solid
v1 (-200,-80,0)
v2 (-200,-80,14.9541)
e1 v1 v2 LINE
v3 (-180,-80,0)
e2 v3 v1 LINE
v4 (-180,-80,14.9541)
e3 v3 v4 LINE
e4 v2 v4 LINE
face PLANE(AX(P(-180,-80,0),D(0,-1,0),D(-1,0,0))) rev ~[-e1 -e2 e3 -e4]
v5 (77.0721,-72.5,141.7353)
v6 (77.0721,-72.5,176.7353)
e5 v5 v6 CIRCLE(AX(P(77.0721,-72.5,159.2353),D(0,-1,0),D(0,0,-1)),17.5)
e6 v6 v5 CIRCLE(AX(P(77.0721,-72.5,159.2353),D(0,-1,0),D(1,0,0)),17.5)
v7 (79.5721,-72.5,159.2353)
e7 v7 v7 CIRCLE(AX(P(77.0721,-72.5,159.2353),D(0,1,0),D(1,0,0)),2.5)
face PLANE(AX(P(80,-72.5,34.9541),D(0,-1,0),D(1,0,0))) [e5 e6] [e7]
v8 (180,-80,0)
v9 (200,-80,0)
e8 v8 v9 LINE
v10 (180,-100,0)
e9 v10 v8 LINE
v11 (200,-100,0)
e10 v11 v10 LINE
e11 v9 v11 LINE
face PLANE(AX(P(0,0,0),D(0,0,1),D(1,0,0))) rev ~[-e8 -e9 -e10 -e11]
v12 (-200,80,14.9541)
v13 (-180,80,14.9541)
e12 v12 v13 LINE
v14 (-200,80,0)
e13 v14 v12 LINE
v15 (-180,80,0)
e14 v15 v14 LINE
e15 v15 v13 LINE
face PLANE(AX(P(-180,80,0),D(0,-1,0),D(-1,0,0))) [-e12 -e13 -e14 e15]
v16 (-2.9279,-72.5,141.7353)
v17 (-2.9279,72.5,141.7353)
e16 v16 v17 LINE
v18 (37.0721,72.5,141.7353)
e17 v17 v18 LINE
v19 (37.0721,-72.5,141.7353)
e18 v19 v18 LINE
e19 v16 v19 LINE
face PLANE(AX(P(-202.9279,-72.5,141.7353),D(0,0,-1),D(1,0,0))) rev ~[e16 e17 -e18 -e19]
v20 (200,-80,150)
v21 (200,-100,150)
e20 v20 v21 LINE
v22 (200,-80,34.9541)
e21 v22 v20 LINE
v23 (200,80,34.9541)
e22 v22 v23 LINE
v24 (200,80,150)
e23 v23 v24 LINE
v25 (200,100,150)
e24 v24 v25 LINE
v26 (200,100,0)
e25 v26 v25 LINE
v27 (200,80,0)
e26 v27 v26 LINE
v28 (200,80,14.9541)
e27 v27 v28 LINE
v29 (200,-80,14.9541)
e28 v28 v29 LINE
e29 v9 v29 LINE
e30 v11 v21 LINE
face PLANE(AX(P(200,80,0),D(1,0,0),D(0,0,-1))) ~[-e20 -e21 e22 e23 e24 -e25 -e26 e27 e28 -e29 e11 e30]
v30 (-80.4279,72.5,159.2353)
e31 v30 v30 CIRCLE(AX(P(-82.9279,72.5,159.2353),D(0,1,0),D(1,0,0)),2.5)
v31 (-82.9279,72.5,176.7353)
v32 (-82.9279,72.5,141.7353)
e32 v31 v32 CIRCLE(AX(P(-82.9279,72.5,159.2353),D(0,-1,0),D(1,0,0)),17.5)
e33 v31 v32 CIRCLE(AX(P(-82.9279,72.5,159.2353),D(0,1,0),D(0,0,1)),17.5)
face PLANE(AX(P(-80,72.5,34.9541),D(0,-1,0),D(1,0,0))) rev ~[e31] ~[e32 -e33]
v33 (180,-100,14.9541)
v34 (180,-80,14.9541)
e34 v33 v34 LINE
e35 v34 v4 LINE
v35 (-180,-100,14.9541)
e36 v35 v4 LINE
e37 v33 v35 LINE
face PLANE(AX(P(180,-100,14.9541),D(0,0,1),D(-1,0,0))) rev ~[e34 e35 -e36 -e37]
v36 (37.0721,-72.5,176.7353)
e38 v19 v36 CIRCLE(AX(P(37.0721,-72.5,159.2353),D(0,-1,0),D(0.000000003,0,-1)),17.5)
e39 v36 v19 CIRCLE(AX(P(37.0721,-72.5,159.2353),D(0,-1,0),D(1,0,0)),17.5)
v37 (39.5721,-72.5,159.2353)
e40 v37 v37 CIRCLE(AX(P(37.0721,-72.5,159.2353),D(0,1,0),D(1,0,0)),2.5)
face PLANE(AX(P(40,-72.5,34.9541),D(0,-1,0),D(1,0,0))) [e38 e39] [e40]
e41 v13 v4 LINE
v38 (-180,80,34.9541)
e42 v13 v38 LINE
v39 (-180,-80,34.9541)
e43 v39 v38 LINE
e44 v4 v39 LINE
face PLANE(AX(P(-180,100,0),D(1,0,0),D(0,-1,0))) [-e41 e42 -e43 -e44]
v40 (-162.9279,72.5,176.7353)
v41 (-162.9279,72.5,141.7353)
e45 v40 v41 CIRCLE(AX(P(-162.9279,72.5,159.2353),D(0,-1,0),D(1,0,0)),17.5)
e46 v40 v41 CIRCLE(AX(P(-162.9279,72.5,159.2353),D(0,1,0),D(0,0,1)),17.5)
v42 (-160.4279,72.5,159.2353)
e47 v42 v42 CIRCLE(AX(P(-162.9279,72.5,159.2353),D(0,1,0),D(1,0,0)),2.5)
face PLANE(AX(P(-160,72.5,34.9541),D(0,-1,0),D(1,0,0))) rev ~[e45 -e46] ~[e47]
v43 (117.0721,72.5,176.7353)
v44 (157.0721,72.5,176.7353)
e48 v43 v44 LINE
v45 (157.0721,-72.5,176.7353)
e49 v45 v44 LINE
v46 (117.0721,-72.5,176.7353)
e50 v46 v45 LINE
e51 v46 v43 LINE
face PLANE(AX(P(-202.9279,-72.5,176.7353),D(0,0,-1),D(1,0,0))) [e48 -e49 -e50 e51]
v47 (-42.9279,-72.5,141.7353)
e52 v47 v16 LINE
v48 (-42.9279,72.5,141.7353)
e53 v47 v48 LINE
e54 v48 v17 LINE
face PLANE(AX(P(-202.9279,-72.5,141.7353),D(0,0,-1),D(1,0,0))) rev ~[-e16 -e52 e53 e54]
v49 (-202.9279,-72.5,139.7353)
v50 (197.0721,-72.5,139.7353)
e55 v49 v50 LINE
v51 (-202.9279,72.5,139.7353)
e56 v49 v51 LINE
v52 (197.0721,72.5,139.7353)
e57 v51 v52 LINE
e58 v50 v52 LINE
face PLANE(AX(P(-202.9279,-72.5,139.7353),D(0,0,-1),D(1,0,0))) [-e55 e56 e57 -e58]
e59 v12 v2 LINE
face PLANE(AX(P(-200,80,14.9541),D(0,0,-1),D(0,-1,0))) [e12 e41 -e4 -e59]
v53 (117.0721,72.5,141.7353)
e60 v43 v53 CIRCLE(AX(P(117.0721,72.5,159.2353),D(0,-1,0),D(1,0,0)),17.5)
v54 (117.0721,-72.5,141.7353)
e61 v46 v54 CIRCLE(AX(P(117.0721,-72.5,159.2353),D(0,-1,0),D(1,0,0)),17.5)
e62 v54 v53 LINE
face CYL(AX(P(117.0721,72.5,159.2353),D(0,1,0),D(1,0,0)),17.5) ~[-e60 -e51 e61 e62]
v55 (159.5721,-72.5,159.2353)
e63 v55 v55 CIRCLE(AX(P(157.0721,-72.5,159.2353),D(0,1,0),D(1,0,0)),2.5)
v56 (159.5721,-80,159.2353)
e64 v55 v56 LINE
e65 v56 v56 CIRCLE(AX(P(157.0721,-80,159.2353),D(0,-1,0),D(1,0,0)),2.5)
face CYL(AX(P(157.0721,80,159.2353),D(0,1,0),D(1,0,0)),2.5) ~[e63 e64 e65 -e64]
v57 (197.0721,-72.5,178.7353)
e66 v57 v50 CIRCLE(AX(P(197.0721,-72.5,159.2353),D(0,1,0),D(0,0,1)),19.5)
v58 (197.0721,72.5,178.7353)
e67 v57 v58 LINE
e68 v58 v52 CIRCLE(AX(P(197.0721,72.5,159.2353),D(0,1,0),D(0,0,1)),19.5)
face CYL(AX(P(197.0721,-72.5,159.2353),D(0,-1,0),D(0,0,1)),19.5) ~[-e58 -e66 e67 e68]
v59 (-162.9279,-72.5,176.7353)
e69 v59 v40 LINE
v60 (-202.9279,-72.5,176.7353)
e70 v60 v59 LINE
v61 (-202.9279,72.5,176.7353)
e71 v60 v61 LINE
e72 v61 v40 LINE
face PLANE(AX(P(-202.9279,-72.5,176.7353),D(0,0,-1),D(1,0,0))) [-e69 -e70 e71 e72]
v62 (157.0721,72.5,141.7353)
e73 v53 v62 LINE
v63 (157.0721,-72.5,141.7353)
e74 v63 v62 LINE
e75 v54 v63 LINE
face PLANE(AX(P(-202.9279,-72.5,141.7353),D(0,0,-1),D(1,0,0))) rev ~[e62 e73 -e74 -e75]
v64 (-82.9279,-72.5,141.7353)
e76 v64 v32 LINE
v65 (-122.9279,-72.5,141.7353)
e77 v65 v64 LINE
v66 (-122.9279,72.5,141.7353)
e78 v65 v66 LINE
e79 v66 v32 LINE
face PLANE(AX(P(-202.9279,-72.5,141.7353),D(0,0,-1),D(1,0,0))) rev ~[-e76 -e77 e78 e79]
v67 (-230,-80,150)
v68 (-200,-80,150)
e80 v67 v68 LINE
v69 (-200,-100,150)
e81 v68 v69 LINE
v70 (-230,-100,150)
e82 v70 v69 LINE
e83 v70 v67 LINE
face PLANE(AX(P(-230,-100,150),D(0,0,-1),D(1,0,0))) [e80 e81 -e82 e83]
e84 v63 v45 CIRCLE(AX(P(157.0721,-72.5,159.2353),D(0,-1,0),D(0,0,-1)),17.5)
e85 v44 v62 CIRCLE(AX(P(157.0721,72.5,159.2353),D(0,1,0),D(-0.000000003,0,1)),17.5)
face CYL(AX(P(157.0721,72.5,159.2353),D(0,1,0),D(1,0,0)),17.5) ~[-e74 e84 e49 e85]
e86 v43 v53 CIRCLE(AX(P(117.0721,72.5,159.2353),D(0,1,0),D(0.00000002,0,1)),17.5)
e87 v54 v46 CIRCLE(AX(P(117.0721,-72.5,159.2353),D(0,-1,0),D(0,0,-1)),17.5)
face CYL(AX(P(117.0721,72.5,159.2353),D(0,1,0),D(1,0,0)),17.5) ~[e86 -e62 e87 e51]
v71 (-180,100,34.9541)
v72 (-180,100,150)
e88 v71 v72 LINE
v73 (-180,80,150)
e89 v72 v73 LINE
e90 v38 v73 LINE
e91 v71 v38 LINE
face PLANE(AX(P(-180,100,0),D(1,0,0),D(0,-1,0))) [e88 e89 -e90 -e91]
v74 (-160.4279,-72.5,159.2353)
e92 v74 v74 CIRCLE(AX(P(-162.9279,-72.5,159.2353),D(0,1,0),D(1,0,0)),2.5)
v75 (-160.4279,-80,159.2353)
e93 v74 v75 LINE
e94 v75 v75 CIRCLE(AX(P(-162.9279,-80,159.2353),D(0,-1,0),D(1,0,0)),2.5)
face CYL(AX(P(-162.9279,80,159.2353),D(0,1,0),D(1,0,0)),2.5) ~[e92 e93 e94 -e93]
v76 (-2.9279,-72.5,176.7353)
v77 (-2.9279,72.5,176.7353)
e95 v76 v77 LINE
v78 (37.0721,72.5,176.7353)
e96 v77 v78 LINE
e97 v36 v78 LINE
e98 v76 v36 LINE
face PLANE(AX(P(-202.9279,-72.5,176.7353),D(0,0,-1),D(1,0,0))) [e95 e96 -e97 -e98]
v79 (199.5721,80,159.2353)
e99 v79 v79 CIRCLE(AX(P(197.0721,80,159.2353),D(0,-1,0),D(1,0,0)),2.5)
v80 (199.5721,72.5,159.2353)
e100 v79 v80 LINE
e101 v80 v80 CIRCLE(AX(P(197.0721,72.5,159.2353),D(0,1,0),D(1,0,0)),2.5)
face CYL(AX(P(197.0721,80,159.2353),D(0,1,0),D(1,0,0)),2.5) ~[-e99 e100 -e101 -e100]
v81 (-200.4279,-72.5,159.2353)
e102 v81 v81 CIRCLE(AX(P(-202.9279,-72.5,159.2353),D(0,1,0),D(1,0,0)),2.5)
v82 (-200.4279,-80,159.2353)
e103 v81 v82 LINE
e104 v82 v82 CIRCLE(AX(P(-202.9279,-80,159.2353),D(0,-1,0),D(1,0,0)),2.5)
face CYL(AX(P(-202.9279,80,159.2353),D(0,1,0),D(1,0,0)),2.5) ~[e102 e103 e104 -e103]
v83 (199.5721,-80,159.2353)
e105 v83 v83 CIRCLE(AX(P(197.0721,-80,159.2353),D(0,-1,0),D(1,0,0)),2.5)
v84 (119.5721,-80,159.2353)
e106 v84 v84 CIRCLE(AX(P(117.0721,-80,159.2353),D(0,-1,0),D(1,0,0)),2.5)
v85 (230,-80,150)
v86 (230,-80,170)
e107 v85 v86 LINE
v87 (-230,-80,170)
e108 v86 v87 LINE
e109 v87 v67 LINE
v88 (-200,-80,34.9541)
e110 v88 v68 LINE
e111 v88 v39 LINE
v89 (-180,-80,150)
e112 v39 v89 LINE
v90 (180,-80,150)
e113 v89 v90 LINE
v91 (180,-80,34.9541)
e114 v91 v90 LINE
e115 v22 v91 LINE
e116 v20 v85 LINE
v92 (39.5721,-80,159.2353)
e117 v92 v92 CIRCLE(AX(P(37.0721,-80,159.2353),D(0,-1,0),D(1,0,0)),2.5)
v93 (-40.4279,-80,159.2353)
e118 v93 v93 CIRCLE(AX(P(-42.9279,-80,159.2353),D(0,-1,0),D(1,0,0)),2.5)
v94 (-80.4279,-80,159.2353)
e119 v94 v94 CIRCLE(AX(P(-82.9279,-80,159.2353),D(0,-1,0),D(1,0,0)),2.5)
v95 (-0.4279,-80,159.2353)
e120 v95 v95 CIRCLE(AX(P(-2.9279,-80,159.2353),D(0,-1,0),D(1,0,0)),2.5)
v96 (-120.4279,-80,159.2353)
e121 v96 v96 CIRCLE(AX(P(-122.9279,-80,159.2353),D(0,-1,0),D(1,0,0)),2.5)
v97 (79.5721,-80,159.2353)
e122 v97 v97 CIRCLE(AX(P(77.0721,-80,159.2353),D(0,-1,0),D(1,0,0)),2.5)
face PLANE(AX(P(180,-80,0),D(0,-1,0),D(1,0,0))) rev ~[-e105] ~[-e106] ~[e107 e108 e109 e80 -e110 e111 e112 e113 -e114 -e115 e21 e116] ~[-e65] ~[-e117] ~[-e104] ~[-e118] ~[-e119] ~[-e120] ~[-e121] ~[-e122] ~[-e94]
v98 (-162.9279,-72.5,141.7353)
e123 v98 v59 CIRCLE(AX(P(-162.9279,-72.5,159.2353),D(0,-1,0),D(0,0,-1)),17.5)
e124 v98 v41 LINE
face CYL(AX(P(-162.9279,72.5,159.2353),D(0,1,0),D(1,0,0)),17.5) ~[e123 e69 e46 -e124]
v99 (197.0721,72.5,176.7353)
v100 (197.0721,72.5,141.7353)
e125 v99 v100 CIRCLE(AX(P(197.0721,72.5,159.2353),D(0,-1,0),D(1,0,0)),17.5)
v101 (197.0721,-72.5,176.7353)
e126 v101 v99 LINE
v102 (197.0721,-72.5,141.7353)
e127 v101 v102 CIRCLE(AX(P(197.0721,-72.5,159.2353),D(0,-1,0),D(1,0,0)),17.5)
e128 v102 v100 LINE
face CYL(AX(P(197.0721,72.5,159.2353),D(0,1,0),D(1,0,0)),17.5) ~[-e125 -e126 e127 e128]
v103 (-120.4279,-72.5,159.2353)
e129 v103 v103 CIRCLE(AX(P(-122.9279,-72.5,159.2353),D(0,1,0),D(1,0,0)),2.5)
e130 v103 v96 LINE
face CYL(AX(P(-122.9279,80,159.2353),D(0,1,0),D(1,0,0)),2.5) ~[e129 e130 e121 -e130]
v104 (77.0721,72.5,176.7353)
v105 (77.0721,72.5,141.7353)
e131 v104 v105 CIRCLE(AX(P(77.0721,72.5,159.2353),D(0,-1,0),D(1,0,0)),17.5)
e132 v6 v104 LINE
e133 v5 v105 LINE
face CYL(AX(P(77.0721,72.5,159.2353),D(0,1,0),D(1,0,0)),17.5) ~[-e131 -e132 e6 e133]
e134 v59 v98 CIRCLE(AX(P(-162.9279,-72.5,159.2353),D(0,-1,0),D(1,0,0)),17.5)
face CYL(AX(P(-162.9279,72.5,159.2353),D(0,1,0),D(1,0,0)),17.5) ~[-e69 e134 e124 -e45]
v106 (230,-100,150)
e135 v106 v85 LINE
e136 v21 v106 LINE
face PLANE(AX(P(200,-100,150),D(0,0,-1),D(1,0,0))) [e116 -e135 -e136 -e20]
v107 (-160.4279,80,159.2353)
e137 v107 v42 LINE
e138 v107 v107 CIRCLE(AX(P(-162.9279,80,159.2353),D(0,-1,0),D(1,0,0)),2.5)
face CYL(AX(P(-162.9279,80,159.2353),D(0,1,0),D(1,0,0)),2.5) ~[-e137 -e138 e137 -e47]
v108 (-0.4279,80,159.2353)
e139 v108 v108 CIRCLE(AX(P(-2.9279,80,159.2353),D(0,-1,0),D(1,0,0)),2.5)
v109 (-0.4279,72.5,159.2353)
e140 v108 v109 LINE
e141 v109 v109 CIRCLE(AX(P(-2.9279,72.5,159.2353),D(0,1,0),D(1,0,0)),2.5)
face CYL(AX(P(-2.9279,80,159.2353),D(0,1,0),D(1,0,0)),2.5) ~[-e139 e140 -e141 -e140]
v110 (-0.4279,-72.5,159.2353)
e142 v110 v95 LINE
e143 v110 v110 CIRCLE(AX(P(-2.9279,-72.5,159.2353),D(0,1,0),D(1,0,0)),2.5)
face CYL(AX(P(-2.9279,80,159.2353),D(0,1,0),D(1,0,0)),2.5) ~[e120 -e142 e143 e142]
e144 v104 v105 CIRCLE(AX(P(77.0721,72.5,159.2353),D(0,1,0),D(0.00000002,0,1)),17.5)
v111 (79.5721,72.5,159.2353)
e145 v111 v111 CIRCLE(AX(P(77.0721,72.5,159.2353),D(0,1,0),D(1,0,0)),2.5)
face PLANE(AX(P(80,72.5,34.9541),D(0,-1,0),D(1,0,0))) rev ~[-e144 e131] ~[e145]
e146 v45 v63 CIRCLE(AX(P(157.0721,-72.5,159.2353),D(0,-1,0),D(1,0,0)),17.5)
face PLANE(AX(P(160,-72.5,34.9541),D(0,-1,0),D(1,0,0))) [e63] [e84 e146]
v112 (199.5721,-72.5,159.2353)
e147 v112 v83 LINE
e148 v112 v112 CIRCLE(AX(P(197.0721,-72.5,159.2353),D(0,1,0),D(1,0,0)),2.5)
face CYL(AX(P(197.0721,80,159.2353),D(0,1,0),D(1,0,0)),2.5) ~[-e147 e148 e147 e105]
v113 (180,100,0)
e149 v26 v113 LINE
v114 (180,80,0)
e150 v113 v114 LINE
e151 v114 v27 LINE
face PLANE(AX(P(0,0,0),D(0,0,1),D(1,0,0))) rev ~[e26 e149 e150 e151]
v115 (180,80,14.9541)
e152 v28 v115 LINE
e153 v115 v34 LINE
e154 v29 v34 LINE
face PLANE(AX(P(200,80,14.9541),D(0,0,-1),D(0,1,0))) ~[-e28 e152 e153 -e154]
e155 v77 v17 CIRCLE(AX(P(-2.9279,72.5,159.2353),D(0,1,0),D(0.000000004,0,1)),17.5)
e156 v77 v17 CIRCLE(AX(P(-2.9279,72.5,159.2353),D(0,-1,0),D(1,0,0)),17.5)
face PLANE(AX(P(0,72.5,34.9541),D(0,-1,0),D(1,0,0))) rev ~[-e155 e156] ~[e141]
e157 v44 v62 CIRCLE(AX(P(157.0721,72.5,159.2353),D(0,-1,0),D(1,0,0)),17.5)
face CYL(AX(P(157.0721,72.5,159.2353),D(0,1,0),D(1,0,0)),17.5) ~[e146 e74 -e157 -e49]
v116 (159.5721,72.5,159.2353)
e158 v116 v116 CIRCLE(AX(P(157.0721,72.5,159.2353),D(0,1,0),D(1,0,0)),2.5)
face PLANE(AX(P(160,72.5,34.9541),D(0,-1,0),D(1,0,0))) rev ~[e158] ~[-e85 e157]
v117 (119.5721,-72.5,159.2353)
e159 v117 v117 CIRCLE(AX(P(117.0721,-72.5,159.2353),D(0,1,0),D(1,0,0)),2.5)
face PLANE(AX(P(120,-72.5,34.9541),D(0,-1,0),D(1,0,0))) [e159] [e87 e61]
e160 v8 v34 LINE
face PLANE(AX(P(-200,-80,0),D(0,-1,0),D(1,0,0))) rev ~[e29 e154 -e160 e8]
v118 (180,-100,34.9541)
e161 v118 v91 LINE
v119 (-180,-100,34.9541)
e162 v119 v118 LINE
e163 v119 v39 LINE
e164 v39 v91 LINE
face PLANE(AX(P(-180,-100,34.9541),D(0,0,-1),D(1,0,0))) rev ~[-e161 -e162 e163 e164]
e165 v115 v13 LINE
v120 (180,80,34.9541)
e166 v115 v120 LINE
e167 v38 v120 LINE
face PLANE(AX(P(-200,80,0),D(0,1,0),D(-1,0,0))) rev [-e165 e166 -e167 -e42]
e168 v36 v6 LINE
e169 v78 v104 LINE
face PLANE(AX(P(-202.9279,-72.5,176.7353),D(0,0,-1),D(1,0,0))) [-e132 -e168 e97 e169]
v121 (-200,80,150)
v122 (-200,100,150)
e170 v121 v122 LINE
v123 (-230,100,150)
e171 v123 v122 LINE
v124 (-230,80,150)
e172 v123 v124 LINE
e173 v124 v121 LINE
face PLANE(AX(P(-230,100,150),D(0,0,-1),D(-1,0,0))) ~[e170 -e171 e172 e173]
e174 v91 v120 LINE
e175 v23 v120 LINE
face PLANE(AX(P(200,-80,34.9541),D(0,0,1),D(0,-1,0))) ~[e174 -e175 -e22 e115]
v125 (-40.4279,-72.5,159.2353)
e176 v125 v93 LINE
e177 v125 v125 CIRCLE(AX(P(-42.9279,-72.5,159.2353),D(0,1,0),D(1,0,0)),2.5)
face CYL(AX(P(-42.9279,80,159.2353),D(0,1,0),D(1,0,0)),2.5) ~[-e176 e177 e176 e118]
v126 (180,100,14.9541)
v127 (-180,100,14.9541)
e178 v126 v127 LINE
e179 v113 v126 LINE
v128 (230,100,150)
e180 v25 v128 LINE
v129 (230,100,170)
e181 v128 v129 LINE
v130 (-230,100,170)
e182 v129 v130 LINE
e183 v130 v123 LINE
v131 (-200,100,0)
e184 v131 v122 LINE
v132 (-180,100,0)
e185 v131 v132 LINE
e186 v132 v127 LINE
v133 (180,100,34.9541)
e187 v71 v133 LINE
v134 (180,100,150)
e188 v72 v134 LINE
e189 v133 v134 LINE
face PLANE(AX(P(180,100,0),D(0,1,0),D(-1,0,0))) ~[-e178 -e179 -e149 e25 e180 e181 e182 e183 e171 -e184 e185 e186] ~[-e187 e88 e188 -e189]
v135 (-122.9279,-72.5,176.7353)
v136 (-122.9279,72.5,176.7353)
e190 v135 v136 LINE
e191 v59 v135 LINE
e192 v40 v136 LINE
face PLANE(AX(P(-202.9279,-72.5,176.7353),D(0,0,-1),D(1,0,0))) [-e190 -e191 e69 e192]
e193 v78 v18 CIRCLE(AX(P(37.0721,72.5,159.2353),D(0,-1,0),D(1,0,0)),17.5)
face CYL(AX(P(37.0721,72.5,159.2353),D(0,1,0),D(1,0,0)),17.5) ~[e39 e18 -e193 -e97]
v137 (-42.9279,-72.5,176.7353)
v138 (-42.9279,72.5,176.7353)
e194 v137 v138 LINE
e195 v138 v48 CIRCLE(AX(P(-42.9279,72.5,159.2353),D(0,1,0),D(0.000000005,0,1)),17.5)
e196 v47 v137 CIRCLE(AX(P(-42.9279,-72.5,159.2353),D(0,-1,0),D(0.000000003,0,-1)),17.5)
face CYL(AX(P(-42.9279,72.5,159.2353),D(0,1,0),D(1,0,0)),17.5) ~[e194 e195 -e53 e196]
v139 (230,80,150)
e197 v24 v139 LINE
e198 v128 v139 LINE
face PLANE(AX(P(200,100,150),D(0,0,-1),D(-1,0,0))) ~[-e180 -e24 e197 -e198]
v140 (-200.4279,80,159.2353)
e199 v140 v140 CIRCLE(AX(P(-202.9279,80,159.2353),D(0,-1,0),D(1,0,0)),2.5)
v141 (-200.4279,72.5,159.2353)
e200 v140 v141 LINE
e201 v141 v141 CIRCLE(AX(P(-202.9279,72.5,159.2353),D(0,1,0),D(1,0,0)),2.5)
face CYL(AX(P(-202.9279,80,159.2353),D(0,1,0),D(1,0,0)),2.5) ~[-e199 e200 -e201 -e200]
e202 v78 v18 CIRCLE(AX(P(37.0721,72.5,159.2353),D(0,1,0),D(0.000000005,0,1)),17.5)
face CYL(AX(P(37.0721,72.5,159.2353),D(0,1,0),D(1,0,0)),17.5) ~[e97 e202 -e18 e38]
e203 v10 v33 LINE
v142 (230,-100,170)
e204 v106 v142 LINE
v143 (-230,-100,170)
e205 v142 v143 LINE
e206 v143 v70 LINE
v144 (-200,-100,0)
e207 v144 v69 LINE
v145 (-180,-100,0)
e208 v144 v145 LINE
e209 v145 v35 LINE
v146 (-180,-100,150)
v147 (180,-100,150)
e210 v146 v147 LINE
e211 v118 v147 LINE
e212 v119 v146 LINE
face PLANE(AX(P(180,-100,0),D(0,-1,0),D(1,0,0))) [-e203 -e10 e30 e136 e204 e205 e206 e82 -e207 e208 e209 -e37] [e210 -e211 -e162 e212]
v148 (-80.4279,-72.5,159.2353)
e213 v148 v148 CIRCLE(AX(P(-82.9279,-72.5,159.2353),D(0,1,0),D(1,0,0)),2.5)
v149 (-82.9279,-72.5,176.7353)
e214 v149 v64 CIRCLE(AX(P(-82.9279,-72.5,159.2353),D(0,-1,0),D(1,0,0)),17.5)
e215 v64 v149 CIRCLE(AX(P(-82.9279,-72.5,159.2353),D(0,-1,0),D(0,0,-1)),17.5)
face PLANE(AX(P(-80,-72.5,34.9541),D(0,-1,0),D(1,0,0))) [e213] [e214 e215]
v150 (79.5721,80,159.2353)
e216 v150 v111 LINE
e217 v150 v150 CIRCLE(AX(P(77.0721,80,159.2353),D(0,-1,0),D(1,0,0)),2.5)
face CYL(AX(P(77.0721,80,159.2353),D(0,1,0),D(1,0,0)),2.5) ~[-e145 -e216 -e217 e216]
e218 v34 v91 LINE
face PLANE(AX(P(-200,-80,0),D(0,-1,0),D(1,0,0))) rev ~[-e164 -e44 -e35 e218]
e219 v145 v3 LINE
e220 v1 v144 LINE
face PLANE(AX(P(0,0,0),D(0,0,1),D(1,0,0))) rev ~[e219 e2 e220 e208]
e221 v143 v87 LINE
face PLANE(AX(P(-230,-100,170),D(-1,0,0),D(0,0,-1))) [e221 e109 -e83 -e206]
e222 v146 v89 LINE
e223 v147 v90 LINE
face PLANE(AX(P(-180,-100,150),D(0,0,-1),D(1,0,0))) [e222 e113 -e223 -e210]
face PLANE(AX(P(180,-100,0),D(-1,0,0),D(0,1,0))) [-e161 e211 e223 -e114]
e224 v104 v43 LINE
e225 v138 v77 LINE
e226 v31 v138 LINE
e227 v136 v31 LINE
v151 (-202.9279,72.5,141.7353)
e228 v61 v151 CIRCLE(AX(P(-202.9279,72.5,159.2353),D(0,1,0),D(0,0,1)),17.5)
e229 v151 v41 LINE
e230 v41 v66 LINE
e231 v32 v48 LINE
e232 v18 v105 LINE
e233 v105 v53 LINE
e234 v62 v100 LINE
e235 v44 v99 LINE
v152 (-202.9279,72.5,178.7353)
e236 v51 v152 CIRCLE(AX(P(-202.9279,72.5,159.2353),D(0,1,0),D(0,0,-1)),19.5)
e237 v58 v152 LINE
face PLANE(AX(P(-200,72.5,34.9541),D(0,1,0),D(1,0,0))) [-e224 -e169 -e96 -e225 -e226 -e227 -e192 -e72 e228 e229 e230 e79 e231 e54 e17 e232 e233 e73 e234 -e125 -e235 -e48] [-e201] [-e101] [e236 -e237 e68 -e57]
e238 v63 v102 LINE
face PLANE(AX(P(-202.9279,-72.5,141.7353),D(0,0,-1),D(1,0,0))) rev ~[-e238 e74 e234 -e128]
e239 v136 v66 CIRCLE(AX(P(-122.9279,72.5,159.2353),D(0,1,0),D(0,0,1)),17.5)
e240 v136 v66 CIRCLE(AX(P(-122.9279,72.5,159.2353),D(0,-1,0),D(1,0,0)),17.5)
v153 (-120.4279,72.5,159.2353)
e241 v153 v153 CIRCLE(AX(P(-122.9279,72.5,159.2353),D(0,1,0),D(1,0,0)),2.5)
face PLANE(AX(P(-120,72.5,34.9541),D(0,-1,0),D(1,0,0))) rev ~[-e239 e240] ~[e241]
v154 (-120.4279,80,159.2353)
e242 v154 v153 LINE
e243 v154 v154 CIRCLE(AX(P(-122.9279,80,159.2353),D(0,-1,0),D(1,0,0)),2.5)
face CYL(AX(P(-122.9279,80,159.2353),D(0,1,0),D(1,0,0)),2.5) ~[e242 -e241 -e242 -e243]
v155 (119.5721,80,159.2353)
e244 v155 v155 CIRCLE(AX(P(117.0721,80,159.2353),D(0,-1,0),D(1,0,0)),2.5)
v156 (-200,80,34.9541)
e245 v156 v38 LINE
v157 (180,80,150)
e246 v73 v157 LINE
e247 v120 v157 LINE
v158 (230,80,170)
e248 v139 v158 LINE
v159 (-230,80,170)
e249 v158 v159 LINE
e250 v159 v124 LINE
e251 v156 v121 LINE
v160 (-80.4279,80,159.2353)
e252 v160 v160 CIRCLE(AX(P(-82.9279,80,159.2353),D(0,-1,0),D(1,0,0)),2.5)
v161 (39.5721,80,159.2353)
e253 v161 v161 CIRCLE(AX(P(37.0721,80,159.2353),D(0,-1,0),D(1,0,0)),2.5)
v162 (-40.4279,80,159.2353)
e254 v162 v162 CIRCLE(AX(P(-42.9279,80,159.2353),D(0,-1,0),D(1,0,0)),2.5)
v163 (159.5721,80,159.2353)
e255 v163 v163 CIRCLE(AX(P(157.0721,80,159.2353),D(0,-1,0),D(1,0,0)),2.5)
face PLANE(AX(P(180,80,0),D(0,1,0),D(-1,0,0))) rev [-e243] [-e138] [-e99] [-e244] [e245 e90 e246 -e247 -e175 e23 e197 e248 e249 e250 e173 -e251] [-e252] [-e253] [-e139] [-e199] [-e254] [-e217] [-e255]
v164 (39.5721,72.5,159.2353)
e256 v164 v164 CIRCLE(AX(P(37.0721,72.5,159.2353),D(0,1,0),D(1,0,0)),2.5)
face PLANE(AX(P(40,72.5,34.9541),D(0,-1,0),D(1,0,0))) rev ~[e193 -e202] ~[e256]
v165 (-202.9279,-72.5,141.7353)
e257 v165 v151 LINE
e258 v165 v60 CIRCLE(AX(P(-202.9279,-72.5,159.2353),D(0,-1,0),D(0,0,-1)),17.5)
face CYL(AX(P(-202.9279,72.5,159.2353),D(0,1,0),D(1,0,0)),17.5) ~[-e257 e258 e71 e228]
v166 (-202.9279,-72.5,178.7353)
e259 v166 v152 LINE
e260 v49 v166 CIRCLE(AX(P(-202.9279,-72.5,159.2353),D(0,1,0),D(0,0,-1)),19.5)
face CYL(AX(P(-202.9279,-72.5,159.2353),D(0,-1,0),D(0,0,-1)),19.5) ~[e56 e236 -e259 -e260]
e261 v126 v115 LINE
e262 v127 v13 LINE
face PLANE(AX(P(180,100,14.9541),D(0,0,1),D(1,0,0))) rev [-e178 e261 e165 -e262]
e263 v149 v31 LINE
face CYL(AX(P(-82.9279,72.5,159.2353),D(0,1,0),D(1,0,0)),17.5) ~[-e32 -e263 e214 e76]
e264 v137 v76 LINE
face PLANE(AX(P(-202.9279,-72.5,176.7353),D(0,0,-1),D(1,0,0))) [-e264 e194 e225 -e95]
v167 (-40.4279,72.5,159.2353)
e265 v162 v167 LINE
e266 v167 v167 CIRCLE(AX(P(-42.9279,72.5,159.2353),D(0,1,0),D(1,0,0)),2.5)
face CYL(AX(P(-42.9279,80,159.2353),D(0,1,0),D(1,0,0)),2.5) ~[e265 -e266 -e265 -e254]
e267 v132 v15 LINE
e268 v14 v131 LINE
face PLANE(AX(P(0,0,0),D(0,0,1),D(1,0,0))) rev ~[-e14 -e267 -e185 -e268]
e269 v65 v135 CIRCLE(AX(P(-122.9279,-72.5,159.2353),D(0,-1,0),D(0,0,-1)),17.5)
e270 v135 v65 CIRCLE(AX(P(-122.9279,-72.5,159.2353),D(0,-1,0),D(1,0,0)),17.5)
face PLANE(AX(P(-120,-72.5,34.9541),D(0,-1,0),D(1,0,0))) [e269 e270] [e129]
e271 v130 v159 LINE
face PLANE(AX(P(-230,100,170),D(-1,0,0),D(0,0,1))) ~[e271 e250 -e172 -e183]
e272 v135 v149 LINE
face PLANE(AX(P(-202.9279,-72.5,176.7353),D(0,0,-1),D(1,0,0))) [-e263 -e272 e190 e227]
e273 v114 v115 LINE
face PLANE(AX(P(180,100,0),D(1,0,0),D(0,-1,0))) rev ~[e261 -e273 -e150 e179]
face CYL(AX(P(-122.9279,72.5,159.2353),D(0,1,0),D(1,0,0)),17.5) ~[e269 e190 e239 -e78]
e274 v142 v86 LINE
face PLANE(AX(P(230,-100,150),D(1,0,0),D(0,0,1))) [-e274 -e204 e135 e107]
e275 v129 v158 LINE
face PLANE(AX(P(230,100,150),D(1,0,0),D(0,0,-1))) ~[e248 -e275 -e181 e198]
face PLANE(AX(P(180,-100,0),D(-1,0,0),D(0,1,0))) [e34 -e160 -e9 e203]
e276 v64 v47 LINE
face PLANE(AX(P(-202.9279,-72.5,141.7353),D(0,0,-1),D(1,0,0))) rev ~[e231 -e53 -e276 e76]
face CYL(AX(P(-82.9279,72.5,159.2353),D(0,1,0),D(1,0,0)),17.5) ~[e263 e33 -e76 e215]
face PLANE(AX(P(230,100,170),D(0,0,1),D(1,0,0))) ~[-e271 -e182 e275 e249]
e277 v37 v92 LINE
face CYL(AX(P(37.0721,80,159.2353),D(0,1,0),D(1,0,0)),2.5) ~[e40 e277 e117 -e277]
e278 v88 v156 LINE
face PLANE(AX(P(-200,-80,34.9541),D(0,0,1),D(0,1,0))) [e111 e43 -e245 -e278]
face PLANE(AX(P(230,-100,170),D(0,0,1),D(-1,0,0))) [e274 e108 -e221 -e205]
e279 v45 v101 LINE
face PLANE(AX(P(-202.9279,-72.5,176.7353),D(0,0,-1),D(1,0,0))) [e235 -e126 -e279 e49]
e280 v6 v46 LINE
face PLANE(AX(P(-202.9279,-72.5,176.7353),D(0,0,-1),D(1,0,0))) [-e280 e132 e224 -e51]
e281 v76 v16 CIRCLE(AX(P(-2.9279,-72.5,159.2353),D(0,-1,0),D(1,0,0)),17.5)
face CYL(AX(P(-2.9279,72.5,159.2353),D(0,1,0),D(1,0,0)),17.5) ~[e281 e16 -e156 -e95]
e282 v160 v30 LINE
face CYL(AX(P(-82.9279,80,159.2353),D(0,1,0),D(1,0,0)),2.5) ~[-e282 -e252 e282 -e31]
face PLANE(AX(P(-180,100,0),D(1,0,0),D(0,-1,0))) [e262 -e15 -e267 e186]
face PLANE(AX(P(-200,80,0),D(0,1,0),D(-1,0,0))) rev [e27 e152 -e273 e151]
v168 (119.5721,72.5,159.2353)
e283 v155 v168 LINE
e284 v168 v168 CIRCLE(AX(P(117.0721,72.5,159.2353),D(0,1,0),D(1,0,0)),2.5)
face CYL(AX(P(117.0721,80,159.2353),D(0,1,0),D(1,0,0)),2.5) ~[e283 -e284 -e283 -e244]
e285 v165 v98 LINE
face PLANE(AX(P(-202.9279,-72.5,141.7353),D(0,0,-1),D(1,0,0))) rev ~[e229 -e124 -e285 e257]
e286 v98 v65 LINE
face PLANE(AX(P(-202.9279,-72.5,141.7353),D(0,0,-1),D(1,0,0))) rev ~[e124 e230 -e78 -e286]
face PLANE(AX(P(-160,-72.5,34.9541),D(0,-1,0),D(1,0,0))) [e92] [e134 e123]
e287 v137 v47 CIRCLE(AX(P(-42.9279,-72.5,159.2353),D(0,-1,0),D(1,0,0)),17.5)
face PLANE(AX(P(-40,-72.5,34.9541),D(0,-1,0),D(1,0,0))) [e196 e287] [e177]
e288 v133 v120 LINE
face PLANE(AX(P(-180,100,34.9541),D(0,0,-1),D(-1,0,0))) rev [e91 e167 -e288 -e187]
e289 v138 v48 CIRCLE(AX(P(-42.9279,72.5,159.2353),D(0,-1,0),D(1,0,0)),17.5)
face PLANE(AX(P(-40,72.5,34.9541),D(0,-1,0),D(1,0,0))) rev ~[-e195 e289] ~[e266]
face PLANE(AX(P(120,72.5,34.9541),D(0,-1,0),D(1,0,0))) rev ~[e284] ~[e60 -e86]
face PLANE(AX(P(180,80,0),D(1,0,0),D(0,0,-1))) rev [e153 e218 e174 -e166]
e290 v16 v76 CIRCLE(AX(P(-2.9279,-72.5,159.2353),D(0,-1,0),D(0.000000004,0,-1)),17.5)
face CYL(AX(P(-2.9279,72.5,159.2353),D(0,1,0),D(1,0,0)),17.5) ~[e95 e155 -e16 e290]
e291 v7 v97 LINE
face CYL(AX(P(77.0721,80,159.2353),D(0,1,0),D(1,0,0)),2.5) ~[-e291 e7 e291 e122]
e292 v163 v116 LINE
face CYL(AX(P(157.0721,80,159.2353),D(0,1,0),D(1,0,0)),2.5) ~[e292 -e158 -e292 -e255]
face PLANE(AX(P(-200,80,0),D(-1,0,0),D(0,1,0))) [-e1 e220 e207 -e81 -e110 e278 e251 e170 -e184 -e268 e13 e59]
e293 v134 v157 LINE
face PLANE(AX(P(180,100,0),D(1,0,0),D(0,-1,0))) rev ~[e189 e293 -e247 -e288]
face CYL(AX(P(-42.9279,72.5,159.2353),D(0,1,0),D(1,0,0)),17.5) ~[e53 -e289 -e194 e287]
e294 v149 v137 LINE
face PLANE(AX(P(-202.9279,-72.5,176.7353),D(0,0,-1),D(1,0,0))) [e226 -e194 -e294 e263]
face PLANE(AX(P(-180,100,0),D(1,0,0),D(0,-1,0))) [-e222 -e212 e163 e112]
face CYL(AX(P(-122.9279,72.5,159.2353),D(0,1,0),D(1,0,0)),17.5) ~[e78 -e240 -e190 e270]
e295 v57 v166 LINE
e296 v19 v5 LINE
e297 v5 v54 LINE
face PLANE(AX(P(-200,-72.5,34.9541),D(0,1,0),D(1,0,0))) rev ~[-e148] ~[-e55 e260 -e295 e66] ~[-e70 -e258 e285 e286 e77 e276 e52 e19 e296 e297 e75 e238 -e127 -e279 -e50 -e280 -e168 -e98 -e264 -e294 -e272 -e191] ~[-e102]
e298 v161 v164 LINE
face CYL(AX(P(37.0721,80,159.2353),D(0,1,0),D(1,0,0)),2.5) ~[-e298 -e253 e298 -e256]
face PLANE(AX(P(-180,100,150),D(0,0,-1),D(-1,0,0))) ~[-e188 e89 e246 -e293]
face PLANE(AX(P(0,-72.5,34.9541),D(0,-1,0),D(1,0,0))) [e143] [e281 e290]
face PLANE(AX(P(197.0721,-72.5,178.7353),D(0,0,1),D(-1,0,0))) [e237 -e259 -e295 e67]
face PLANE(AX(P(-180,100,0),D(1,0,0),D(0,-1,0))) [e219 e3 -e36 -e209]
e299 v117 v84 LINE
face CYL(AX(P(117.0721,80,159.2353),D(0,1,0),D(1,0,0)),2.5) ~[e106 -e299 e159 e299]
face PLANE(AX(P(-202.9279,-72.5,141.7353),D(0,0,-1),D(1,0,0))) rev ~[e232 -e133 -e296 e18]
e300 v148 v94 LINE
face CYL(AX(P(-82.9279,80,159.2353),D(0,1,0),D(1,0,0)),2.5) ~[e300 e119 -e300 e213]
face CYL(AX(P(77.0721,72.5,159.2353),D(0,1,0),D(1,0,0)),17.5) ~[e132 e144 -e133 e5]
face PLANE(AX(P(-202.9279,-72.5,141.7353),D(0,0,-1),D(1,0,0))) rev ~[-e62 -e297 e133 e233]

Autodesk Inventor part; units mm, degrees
sketch "Sketch1" plane through (0, 0, 0) normal (0, 0, 1) x (1, 0, 0)
  line L0 (-200, 100) -> (200, -100) construction
  line L1 (200, 100) -> (-200, -100) construction
  line L2 (-200, 100) -> (-180, 100)
  line L3 (-180, 100) -> (-180, 80)
  line L4 (-180, 80) -> (-200, 80)
  line L5 (-200, 80) -> (-200, 100)
  line L6 (200, 100) -> (180, 100)
  line L7 (180, 100) -> (180, 80)
  line L8 (180, 80) -> (200, 80)
  line L9 (200, 80) -> (200, 100)
  line L10 (200, -100) -> (180, -100)
  line L11 (180, -100) -> (180, -80)
  line L12 (180, -80) -> (200, -80)
  line L13 (200, -80) -> (200, -100)
  line L14 (-200, -100) -> (-180, -100)
  line L15 (-180, -100) -> (-180, -80)
  line L16 (-180, -80) -> (-200, -80)
  line L17 (-200, -80) -> (-200, -100)
  line L18 (-200, 100) -> (-180, 100)
  line L19 (180, 100) -> (200, 100)
  line L20 (-200, -100) -> (-200, -80)
  line L21 (-200, 80) -> (-200, 100)
  line L22 (200, -100) -> (180, -100)
  line L23 (-180, -100) -> (-200, -100)
  line L24 (200, 100) -> (200, 80)
  line L25 (200, -80) -> (200, -100)
  point P0 (0, 0)
  dimension "d0" = 400
  dimension "d1" = 200
  dimension "d2" = 20
  dimension "d3" = 20
  dimension "d4" = 20
  dimension "d5" = 20
  dimension "d6" = 20
  dimension "d7" = 20
  dimension "d8" = 20
  dimension "d9" = 20
extrude "Extrusion1" add sketch "Sketch1" along normal blind 150
sketch "Sketch2" plane through (-200, 80, 0) normal (-1, 0, 0) x (0, 0, 1)
  point P0 (0, -80)
sketch "Sketch3" plane through (-200, 80, 0) normal (-1, 0, 0) x (0, 0, 1)
  line L0 (0, 0) -> (150, 0) projected
  line L1 (0, -160) -> (150, -160) projected
  line L2 (34.9541, 0) -> (14.9541, 0)
  line L3 (14.9541, 0) -> (14.9541, -160)
  line L4 (14.9541, -160) -> (34.9541, -160)
  line L5 (34.9541, -160) -> (34.9541, 0)
  point P0 (0, -80)
  dimension "d12" = 20
extrude "Extrusion2" add sketch "Sketch3" against normal blind 20
sketch "Sketch4" plane through (-200, -100, 0) normal (0, -1, 0) x (1, 0, 0)
  line L0 (20, 34.9541) -> (0, 34.9541) projected
  line L1 (0, 14.9541) -> (20, 14.9541) projected
  line L2 (380, 0) -> (380, 150) projected
  line L3 (20, 34.9541) -> (380, 34.9541)
  line L4 (380, 34.9541) -> (380, 14.9541)
  line L5 (380, 14.9541) -> (20, 14.9541)
  line L6 (20, 14.9541) -> (20, 34.9541)
  point P0 (200, 0)
extrude "Extrusion3" add sketch "Sketch4" against normal blind 20
ref_plane "Work Plane1" through (180, 0, 0) normal (0, -1, 0) x (1, 0, 0)
mirror "Mirror1" about plane through (180, 0, 0) normal (0, -1, 0) of "Extrusion3"
ref_plane "Work Plane2" through (0, 80, 0) normal (-1, 0, 0) x (0, 0, 1)
mirror "Mirror2" about plane through (0, 80, 0) normal (-1, 0, 0) of "Extrusion2"
sketch "Sketch5" plane through (180, -100, 0) normal (0, -1, 0) x (1, 0, 0)
  line L0 (-380, 14.9541) -> (-360, 14.9541) projected
  line L1 (-360, 34.9541) -> (-380, 34.9541) projected
  line L2 (-360, 0) -> (-360, 14.9541) projected
  line L3 (-380, 0) -> (-360, 0) projected
  line L4 (-380, 150) -> (-360, 150) projected
  line L5 (-410, 150) -> (50, 150)
  line L6 (50, 150) -> (50, 170)
  line L7 (50, 170) -> (-410, 170)
  line L8 (-410, 170) -> (-410, 150)
  line L9 (-380, 0) -> (-380, 150) projected
  line L10 (20, 0) -> (20, 150) projected
  point P0 (-180, 0)
  dimension "d17" = 14.9541
  dimension "d20" = 460
  dimension "d21" = 20
  dimension "d22" = 30
extrude "Extrusion4" add sketch "Sketch5" against normal blind 20 contours L5 L8 L7 L6 L4
mirror "Mirror3" about plane through (180, 0, 0) normal (0, -1, 0) of "Extrusion4"
sketch "Sketch6" plane through (-200, 80, 34.9541) normal (0, -1, 0) x (1, 0, 0)
  point P0 (200, -34.9541)
ref_plane "Work Plane3" through (-200, 72.5, 34.9541) normal (0, -1, 0) x (1, 0, 0)
sketch "Sketch7" plane through (-200, 72.5, 34.9541) normal (0, -1, 0) x (1, 0, 0)
  circle A0 centre (-2.9279, 124.2812) radius 17.5 projected
  circle A1 centre (-2.9279, 124.2812) radius 17.5
  point P0 (200, -34.9541)
  dimension "d27" = 35
extrude "Extrusion5" add sketch "Sketch7" along normal blind 145
pattern_linear "Rectangular Pattern1" count 11 spacing 40 along (1, 0, 0) of "Extrusion5"
sketch "Sketch11" plane through (-200, 80, 34.9541) normal (0, -1, 0) x (1, 0, 0)
  circle A0 centre (-2.9279, 124.2812) radius 17.5 projected
  circle A1 centre (-2.9279, 124.2812) radius 2.5
  point P0 (200, -34.9541)
  dimension "d33" = 5
extrude "Extrusion6" add sketch "Sketch11" along normal up to surface (160 mm away) contours A1
pattern_linear "Rectangular Pattern2" count 11 spacing 40 along (1, 0, 0) of "Extrusion6"
ref_plane "Work Plane5" through (-200, -72.5, 34.9541) normal (0, 1, 0) x (1, 0, 0)
sketch "Sketch20" plane through (-200, -72.5, 34.9541) normal (0, 1, 0) x (1, 0, 0)
  circle A0 centre (-2.9279, -124.2812) radius 2.5 projected
  arc A1 (-2.9279, -106.7812) -> (-2.9279, -141.7812) centre (-2.9279, -124.2812) ccw
  circle A2 centre (397.0721, -124.2812) radius 2.5 projected
  line L0 (-2.9279, -141.7812) -> (397.0721, -141.7812)
  line L1 (-2.9279, -106.7812) -> (397.0721, -106.7812)
  circle A3 centre (397.0721, -124.2812) radius 17.5 projected
  arc A4 (397.0721, -141.7812) -> (397.0721, -106.7812) centre (397.0721, -124.2812) ccw
  circle A5 centre (397.0721, -124.2812) radius 17.5 projected
  line L2 (397.0721, -143.7812) -> (-2.9279, -143.7812)
  arc A6 (-2.9279, -104.7812) -> (-2.9279, -143.7812) centre (-2.9279, -124.2812) ccw
  line L3 (-2.9279, -104.7812) -> (397.0721, -104.7812)
  arc A7 (397.0721, -143.7812) -> (397.0721, -104.7812) centre (397.0721, -124.2812) ccw
  point P0 (200, 34.9541)
  dimension "d68" = 35
  dimension "d69" = 2
extrude "Extrusion7" add sketch "Sketch20" along normal blind 145 contours L2 A6 L3 A7
properties part number "Traka"
